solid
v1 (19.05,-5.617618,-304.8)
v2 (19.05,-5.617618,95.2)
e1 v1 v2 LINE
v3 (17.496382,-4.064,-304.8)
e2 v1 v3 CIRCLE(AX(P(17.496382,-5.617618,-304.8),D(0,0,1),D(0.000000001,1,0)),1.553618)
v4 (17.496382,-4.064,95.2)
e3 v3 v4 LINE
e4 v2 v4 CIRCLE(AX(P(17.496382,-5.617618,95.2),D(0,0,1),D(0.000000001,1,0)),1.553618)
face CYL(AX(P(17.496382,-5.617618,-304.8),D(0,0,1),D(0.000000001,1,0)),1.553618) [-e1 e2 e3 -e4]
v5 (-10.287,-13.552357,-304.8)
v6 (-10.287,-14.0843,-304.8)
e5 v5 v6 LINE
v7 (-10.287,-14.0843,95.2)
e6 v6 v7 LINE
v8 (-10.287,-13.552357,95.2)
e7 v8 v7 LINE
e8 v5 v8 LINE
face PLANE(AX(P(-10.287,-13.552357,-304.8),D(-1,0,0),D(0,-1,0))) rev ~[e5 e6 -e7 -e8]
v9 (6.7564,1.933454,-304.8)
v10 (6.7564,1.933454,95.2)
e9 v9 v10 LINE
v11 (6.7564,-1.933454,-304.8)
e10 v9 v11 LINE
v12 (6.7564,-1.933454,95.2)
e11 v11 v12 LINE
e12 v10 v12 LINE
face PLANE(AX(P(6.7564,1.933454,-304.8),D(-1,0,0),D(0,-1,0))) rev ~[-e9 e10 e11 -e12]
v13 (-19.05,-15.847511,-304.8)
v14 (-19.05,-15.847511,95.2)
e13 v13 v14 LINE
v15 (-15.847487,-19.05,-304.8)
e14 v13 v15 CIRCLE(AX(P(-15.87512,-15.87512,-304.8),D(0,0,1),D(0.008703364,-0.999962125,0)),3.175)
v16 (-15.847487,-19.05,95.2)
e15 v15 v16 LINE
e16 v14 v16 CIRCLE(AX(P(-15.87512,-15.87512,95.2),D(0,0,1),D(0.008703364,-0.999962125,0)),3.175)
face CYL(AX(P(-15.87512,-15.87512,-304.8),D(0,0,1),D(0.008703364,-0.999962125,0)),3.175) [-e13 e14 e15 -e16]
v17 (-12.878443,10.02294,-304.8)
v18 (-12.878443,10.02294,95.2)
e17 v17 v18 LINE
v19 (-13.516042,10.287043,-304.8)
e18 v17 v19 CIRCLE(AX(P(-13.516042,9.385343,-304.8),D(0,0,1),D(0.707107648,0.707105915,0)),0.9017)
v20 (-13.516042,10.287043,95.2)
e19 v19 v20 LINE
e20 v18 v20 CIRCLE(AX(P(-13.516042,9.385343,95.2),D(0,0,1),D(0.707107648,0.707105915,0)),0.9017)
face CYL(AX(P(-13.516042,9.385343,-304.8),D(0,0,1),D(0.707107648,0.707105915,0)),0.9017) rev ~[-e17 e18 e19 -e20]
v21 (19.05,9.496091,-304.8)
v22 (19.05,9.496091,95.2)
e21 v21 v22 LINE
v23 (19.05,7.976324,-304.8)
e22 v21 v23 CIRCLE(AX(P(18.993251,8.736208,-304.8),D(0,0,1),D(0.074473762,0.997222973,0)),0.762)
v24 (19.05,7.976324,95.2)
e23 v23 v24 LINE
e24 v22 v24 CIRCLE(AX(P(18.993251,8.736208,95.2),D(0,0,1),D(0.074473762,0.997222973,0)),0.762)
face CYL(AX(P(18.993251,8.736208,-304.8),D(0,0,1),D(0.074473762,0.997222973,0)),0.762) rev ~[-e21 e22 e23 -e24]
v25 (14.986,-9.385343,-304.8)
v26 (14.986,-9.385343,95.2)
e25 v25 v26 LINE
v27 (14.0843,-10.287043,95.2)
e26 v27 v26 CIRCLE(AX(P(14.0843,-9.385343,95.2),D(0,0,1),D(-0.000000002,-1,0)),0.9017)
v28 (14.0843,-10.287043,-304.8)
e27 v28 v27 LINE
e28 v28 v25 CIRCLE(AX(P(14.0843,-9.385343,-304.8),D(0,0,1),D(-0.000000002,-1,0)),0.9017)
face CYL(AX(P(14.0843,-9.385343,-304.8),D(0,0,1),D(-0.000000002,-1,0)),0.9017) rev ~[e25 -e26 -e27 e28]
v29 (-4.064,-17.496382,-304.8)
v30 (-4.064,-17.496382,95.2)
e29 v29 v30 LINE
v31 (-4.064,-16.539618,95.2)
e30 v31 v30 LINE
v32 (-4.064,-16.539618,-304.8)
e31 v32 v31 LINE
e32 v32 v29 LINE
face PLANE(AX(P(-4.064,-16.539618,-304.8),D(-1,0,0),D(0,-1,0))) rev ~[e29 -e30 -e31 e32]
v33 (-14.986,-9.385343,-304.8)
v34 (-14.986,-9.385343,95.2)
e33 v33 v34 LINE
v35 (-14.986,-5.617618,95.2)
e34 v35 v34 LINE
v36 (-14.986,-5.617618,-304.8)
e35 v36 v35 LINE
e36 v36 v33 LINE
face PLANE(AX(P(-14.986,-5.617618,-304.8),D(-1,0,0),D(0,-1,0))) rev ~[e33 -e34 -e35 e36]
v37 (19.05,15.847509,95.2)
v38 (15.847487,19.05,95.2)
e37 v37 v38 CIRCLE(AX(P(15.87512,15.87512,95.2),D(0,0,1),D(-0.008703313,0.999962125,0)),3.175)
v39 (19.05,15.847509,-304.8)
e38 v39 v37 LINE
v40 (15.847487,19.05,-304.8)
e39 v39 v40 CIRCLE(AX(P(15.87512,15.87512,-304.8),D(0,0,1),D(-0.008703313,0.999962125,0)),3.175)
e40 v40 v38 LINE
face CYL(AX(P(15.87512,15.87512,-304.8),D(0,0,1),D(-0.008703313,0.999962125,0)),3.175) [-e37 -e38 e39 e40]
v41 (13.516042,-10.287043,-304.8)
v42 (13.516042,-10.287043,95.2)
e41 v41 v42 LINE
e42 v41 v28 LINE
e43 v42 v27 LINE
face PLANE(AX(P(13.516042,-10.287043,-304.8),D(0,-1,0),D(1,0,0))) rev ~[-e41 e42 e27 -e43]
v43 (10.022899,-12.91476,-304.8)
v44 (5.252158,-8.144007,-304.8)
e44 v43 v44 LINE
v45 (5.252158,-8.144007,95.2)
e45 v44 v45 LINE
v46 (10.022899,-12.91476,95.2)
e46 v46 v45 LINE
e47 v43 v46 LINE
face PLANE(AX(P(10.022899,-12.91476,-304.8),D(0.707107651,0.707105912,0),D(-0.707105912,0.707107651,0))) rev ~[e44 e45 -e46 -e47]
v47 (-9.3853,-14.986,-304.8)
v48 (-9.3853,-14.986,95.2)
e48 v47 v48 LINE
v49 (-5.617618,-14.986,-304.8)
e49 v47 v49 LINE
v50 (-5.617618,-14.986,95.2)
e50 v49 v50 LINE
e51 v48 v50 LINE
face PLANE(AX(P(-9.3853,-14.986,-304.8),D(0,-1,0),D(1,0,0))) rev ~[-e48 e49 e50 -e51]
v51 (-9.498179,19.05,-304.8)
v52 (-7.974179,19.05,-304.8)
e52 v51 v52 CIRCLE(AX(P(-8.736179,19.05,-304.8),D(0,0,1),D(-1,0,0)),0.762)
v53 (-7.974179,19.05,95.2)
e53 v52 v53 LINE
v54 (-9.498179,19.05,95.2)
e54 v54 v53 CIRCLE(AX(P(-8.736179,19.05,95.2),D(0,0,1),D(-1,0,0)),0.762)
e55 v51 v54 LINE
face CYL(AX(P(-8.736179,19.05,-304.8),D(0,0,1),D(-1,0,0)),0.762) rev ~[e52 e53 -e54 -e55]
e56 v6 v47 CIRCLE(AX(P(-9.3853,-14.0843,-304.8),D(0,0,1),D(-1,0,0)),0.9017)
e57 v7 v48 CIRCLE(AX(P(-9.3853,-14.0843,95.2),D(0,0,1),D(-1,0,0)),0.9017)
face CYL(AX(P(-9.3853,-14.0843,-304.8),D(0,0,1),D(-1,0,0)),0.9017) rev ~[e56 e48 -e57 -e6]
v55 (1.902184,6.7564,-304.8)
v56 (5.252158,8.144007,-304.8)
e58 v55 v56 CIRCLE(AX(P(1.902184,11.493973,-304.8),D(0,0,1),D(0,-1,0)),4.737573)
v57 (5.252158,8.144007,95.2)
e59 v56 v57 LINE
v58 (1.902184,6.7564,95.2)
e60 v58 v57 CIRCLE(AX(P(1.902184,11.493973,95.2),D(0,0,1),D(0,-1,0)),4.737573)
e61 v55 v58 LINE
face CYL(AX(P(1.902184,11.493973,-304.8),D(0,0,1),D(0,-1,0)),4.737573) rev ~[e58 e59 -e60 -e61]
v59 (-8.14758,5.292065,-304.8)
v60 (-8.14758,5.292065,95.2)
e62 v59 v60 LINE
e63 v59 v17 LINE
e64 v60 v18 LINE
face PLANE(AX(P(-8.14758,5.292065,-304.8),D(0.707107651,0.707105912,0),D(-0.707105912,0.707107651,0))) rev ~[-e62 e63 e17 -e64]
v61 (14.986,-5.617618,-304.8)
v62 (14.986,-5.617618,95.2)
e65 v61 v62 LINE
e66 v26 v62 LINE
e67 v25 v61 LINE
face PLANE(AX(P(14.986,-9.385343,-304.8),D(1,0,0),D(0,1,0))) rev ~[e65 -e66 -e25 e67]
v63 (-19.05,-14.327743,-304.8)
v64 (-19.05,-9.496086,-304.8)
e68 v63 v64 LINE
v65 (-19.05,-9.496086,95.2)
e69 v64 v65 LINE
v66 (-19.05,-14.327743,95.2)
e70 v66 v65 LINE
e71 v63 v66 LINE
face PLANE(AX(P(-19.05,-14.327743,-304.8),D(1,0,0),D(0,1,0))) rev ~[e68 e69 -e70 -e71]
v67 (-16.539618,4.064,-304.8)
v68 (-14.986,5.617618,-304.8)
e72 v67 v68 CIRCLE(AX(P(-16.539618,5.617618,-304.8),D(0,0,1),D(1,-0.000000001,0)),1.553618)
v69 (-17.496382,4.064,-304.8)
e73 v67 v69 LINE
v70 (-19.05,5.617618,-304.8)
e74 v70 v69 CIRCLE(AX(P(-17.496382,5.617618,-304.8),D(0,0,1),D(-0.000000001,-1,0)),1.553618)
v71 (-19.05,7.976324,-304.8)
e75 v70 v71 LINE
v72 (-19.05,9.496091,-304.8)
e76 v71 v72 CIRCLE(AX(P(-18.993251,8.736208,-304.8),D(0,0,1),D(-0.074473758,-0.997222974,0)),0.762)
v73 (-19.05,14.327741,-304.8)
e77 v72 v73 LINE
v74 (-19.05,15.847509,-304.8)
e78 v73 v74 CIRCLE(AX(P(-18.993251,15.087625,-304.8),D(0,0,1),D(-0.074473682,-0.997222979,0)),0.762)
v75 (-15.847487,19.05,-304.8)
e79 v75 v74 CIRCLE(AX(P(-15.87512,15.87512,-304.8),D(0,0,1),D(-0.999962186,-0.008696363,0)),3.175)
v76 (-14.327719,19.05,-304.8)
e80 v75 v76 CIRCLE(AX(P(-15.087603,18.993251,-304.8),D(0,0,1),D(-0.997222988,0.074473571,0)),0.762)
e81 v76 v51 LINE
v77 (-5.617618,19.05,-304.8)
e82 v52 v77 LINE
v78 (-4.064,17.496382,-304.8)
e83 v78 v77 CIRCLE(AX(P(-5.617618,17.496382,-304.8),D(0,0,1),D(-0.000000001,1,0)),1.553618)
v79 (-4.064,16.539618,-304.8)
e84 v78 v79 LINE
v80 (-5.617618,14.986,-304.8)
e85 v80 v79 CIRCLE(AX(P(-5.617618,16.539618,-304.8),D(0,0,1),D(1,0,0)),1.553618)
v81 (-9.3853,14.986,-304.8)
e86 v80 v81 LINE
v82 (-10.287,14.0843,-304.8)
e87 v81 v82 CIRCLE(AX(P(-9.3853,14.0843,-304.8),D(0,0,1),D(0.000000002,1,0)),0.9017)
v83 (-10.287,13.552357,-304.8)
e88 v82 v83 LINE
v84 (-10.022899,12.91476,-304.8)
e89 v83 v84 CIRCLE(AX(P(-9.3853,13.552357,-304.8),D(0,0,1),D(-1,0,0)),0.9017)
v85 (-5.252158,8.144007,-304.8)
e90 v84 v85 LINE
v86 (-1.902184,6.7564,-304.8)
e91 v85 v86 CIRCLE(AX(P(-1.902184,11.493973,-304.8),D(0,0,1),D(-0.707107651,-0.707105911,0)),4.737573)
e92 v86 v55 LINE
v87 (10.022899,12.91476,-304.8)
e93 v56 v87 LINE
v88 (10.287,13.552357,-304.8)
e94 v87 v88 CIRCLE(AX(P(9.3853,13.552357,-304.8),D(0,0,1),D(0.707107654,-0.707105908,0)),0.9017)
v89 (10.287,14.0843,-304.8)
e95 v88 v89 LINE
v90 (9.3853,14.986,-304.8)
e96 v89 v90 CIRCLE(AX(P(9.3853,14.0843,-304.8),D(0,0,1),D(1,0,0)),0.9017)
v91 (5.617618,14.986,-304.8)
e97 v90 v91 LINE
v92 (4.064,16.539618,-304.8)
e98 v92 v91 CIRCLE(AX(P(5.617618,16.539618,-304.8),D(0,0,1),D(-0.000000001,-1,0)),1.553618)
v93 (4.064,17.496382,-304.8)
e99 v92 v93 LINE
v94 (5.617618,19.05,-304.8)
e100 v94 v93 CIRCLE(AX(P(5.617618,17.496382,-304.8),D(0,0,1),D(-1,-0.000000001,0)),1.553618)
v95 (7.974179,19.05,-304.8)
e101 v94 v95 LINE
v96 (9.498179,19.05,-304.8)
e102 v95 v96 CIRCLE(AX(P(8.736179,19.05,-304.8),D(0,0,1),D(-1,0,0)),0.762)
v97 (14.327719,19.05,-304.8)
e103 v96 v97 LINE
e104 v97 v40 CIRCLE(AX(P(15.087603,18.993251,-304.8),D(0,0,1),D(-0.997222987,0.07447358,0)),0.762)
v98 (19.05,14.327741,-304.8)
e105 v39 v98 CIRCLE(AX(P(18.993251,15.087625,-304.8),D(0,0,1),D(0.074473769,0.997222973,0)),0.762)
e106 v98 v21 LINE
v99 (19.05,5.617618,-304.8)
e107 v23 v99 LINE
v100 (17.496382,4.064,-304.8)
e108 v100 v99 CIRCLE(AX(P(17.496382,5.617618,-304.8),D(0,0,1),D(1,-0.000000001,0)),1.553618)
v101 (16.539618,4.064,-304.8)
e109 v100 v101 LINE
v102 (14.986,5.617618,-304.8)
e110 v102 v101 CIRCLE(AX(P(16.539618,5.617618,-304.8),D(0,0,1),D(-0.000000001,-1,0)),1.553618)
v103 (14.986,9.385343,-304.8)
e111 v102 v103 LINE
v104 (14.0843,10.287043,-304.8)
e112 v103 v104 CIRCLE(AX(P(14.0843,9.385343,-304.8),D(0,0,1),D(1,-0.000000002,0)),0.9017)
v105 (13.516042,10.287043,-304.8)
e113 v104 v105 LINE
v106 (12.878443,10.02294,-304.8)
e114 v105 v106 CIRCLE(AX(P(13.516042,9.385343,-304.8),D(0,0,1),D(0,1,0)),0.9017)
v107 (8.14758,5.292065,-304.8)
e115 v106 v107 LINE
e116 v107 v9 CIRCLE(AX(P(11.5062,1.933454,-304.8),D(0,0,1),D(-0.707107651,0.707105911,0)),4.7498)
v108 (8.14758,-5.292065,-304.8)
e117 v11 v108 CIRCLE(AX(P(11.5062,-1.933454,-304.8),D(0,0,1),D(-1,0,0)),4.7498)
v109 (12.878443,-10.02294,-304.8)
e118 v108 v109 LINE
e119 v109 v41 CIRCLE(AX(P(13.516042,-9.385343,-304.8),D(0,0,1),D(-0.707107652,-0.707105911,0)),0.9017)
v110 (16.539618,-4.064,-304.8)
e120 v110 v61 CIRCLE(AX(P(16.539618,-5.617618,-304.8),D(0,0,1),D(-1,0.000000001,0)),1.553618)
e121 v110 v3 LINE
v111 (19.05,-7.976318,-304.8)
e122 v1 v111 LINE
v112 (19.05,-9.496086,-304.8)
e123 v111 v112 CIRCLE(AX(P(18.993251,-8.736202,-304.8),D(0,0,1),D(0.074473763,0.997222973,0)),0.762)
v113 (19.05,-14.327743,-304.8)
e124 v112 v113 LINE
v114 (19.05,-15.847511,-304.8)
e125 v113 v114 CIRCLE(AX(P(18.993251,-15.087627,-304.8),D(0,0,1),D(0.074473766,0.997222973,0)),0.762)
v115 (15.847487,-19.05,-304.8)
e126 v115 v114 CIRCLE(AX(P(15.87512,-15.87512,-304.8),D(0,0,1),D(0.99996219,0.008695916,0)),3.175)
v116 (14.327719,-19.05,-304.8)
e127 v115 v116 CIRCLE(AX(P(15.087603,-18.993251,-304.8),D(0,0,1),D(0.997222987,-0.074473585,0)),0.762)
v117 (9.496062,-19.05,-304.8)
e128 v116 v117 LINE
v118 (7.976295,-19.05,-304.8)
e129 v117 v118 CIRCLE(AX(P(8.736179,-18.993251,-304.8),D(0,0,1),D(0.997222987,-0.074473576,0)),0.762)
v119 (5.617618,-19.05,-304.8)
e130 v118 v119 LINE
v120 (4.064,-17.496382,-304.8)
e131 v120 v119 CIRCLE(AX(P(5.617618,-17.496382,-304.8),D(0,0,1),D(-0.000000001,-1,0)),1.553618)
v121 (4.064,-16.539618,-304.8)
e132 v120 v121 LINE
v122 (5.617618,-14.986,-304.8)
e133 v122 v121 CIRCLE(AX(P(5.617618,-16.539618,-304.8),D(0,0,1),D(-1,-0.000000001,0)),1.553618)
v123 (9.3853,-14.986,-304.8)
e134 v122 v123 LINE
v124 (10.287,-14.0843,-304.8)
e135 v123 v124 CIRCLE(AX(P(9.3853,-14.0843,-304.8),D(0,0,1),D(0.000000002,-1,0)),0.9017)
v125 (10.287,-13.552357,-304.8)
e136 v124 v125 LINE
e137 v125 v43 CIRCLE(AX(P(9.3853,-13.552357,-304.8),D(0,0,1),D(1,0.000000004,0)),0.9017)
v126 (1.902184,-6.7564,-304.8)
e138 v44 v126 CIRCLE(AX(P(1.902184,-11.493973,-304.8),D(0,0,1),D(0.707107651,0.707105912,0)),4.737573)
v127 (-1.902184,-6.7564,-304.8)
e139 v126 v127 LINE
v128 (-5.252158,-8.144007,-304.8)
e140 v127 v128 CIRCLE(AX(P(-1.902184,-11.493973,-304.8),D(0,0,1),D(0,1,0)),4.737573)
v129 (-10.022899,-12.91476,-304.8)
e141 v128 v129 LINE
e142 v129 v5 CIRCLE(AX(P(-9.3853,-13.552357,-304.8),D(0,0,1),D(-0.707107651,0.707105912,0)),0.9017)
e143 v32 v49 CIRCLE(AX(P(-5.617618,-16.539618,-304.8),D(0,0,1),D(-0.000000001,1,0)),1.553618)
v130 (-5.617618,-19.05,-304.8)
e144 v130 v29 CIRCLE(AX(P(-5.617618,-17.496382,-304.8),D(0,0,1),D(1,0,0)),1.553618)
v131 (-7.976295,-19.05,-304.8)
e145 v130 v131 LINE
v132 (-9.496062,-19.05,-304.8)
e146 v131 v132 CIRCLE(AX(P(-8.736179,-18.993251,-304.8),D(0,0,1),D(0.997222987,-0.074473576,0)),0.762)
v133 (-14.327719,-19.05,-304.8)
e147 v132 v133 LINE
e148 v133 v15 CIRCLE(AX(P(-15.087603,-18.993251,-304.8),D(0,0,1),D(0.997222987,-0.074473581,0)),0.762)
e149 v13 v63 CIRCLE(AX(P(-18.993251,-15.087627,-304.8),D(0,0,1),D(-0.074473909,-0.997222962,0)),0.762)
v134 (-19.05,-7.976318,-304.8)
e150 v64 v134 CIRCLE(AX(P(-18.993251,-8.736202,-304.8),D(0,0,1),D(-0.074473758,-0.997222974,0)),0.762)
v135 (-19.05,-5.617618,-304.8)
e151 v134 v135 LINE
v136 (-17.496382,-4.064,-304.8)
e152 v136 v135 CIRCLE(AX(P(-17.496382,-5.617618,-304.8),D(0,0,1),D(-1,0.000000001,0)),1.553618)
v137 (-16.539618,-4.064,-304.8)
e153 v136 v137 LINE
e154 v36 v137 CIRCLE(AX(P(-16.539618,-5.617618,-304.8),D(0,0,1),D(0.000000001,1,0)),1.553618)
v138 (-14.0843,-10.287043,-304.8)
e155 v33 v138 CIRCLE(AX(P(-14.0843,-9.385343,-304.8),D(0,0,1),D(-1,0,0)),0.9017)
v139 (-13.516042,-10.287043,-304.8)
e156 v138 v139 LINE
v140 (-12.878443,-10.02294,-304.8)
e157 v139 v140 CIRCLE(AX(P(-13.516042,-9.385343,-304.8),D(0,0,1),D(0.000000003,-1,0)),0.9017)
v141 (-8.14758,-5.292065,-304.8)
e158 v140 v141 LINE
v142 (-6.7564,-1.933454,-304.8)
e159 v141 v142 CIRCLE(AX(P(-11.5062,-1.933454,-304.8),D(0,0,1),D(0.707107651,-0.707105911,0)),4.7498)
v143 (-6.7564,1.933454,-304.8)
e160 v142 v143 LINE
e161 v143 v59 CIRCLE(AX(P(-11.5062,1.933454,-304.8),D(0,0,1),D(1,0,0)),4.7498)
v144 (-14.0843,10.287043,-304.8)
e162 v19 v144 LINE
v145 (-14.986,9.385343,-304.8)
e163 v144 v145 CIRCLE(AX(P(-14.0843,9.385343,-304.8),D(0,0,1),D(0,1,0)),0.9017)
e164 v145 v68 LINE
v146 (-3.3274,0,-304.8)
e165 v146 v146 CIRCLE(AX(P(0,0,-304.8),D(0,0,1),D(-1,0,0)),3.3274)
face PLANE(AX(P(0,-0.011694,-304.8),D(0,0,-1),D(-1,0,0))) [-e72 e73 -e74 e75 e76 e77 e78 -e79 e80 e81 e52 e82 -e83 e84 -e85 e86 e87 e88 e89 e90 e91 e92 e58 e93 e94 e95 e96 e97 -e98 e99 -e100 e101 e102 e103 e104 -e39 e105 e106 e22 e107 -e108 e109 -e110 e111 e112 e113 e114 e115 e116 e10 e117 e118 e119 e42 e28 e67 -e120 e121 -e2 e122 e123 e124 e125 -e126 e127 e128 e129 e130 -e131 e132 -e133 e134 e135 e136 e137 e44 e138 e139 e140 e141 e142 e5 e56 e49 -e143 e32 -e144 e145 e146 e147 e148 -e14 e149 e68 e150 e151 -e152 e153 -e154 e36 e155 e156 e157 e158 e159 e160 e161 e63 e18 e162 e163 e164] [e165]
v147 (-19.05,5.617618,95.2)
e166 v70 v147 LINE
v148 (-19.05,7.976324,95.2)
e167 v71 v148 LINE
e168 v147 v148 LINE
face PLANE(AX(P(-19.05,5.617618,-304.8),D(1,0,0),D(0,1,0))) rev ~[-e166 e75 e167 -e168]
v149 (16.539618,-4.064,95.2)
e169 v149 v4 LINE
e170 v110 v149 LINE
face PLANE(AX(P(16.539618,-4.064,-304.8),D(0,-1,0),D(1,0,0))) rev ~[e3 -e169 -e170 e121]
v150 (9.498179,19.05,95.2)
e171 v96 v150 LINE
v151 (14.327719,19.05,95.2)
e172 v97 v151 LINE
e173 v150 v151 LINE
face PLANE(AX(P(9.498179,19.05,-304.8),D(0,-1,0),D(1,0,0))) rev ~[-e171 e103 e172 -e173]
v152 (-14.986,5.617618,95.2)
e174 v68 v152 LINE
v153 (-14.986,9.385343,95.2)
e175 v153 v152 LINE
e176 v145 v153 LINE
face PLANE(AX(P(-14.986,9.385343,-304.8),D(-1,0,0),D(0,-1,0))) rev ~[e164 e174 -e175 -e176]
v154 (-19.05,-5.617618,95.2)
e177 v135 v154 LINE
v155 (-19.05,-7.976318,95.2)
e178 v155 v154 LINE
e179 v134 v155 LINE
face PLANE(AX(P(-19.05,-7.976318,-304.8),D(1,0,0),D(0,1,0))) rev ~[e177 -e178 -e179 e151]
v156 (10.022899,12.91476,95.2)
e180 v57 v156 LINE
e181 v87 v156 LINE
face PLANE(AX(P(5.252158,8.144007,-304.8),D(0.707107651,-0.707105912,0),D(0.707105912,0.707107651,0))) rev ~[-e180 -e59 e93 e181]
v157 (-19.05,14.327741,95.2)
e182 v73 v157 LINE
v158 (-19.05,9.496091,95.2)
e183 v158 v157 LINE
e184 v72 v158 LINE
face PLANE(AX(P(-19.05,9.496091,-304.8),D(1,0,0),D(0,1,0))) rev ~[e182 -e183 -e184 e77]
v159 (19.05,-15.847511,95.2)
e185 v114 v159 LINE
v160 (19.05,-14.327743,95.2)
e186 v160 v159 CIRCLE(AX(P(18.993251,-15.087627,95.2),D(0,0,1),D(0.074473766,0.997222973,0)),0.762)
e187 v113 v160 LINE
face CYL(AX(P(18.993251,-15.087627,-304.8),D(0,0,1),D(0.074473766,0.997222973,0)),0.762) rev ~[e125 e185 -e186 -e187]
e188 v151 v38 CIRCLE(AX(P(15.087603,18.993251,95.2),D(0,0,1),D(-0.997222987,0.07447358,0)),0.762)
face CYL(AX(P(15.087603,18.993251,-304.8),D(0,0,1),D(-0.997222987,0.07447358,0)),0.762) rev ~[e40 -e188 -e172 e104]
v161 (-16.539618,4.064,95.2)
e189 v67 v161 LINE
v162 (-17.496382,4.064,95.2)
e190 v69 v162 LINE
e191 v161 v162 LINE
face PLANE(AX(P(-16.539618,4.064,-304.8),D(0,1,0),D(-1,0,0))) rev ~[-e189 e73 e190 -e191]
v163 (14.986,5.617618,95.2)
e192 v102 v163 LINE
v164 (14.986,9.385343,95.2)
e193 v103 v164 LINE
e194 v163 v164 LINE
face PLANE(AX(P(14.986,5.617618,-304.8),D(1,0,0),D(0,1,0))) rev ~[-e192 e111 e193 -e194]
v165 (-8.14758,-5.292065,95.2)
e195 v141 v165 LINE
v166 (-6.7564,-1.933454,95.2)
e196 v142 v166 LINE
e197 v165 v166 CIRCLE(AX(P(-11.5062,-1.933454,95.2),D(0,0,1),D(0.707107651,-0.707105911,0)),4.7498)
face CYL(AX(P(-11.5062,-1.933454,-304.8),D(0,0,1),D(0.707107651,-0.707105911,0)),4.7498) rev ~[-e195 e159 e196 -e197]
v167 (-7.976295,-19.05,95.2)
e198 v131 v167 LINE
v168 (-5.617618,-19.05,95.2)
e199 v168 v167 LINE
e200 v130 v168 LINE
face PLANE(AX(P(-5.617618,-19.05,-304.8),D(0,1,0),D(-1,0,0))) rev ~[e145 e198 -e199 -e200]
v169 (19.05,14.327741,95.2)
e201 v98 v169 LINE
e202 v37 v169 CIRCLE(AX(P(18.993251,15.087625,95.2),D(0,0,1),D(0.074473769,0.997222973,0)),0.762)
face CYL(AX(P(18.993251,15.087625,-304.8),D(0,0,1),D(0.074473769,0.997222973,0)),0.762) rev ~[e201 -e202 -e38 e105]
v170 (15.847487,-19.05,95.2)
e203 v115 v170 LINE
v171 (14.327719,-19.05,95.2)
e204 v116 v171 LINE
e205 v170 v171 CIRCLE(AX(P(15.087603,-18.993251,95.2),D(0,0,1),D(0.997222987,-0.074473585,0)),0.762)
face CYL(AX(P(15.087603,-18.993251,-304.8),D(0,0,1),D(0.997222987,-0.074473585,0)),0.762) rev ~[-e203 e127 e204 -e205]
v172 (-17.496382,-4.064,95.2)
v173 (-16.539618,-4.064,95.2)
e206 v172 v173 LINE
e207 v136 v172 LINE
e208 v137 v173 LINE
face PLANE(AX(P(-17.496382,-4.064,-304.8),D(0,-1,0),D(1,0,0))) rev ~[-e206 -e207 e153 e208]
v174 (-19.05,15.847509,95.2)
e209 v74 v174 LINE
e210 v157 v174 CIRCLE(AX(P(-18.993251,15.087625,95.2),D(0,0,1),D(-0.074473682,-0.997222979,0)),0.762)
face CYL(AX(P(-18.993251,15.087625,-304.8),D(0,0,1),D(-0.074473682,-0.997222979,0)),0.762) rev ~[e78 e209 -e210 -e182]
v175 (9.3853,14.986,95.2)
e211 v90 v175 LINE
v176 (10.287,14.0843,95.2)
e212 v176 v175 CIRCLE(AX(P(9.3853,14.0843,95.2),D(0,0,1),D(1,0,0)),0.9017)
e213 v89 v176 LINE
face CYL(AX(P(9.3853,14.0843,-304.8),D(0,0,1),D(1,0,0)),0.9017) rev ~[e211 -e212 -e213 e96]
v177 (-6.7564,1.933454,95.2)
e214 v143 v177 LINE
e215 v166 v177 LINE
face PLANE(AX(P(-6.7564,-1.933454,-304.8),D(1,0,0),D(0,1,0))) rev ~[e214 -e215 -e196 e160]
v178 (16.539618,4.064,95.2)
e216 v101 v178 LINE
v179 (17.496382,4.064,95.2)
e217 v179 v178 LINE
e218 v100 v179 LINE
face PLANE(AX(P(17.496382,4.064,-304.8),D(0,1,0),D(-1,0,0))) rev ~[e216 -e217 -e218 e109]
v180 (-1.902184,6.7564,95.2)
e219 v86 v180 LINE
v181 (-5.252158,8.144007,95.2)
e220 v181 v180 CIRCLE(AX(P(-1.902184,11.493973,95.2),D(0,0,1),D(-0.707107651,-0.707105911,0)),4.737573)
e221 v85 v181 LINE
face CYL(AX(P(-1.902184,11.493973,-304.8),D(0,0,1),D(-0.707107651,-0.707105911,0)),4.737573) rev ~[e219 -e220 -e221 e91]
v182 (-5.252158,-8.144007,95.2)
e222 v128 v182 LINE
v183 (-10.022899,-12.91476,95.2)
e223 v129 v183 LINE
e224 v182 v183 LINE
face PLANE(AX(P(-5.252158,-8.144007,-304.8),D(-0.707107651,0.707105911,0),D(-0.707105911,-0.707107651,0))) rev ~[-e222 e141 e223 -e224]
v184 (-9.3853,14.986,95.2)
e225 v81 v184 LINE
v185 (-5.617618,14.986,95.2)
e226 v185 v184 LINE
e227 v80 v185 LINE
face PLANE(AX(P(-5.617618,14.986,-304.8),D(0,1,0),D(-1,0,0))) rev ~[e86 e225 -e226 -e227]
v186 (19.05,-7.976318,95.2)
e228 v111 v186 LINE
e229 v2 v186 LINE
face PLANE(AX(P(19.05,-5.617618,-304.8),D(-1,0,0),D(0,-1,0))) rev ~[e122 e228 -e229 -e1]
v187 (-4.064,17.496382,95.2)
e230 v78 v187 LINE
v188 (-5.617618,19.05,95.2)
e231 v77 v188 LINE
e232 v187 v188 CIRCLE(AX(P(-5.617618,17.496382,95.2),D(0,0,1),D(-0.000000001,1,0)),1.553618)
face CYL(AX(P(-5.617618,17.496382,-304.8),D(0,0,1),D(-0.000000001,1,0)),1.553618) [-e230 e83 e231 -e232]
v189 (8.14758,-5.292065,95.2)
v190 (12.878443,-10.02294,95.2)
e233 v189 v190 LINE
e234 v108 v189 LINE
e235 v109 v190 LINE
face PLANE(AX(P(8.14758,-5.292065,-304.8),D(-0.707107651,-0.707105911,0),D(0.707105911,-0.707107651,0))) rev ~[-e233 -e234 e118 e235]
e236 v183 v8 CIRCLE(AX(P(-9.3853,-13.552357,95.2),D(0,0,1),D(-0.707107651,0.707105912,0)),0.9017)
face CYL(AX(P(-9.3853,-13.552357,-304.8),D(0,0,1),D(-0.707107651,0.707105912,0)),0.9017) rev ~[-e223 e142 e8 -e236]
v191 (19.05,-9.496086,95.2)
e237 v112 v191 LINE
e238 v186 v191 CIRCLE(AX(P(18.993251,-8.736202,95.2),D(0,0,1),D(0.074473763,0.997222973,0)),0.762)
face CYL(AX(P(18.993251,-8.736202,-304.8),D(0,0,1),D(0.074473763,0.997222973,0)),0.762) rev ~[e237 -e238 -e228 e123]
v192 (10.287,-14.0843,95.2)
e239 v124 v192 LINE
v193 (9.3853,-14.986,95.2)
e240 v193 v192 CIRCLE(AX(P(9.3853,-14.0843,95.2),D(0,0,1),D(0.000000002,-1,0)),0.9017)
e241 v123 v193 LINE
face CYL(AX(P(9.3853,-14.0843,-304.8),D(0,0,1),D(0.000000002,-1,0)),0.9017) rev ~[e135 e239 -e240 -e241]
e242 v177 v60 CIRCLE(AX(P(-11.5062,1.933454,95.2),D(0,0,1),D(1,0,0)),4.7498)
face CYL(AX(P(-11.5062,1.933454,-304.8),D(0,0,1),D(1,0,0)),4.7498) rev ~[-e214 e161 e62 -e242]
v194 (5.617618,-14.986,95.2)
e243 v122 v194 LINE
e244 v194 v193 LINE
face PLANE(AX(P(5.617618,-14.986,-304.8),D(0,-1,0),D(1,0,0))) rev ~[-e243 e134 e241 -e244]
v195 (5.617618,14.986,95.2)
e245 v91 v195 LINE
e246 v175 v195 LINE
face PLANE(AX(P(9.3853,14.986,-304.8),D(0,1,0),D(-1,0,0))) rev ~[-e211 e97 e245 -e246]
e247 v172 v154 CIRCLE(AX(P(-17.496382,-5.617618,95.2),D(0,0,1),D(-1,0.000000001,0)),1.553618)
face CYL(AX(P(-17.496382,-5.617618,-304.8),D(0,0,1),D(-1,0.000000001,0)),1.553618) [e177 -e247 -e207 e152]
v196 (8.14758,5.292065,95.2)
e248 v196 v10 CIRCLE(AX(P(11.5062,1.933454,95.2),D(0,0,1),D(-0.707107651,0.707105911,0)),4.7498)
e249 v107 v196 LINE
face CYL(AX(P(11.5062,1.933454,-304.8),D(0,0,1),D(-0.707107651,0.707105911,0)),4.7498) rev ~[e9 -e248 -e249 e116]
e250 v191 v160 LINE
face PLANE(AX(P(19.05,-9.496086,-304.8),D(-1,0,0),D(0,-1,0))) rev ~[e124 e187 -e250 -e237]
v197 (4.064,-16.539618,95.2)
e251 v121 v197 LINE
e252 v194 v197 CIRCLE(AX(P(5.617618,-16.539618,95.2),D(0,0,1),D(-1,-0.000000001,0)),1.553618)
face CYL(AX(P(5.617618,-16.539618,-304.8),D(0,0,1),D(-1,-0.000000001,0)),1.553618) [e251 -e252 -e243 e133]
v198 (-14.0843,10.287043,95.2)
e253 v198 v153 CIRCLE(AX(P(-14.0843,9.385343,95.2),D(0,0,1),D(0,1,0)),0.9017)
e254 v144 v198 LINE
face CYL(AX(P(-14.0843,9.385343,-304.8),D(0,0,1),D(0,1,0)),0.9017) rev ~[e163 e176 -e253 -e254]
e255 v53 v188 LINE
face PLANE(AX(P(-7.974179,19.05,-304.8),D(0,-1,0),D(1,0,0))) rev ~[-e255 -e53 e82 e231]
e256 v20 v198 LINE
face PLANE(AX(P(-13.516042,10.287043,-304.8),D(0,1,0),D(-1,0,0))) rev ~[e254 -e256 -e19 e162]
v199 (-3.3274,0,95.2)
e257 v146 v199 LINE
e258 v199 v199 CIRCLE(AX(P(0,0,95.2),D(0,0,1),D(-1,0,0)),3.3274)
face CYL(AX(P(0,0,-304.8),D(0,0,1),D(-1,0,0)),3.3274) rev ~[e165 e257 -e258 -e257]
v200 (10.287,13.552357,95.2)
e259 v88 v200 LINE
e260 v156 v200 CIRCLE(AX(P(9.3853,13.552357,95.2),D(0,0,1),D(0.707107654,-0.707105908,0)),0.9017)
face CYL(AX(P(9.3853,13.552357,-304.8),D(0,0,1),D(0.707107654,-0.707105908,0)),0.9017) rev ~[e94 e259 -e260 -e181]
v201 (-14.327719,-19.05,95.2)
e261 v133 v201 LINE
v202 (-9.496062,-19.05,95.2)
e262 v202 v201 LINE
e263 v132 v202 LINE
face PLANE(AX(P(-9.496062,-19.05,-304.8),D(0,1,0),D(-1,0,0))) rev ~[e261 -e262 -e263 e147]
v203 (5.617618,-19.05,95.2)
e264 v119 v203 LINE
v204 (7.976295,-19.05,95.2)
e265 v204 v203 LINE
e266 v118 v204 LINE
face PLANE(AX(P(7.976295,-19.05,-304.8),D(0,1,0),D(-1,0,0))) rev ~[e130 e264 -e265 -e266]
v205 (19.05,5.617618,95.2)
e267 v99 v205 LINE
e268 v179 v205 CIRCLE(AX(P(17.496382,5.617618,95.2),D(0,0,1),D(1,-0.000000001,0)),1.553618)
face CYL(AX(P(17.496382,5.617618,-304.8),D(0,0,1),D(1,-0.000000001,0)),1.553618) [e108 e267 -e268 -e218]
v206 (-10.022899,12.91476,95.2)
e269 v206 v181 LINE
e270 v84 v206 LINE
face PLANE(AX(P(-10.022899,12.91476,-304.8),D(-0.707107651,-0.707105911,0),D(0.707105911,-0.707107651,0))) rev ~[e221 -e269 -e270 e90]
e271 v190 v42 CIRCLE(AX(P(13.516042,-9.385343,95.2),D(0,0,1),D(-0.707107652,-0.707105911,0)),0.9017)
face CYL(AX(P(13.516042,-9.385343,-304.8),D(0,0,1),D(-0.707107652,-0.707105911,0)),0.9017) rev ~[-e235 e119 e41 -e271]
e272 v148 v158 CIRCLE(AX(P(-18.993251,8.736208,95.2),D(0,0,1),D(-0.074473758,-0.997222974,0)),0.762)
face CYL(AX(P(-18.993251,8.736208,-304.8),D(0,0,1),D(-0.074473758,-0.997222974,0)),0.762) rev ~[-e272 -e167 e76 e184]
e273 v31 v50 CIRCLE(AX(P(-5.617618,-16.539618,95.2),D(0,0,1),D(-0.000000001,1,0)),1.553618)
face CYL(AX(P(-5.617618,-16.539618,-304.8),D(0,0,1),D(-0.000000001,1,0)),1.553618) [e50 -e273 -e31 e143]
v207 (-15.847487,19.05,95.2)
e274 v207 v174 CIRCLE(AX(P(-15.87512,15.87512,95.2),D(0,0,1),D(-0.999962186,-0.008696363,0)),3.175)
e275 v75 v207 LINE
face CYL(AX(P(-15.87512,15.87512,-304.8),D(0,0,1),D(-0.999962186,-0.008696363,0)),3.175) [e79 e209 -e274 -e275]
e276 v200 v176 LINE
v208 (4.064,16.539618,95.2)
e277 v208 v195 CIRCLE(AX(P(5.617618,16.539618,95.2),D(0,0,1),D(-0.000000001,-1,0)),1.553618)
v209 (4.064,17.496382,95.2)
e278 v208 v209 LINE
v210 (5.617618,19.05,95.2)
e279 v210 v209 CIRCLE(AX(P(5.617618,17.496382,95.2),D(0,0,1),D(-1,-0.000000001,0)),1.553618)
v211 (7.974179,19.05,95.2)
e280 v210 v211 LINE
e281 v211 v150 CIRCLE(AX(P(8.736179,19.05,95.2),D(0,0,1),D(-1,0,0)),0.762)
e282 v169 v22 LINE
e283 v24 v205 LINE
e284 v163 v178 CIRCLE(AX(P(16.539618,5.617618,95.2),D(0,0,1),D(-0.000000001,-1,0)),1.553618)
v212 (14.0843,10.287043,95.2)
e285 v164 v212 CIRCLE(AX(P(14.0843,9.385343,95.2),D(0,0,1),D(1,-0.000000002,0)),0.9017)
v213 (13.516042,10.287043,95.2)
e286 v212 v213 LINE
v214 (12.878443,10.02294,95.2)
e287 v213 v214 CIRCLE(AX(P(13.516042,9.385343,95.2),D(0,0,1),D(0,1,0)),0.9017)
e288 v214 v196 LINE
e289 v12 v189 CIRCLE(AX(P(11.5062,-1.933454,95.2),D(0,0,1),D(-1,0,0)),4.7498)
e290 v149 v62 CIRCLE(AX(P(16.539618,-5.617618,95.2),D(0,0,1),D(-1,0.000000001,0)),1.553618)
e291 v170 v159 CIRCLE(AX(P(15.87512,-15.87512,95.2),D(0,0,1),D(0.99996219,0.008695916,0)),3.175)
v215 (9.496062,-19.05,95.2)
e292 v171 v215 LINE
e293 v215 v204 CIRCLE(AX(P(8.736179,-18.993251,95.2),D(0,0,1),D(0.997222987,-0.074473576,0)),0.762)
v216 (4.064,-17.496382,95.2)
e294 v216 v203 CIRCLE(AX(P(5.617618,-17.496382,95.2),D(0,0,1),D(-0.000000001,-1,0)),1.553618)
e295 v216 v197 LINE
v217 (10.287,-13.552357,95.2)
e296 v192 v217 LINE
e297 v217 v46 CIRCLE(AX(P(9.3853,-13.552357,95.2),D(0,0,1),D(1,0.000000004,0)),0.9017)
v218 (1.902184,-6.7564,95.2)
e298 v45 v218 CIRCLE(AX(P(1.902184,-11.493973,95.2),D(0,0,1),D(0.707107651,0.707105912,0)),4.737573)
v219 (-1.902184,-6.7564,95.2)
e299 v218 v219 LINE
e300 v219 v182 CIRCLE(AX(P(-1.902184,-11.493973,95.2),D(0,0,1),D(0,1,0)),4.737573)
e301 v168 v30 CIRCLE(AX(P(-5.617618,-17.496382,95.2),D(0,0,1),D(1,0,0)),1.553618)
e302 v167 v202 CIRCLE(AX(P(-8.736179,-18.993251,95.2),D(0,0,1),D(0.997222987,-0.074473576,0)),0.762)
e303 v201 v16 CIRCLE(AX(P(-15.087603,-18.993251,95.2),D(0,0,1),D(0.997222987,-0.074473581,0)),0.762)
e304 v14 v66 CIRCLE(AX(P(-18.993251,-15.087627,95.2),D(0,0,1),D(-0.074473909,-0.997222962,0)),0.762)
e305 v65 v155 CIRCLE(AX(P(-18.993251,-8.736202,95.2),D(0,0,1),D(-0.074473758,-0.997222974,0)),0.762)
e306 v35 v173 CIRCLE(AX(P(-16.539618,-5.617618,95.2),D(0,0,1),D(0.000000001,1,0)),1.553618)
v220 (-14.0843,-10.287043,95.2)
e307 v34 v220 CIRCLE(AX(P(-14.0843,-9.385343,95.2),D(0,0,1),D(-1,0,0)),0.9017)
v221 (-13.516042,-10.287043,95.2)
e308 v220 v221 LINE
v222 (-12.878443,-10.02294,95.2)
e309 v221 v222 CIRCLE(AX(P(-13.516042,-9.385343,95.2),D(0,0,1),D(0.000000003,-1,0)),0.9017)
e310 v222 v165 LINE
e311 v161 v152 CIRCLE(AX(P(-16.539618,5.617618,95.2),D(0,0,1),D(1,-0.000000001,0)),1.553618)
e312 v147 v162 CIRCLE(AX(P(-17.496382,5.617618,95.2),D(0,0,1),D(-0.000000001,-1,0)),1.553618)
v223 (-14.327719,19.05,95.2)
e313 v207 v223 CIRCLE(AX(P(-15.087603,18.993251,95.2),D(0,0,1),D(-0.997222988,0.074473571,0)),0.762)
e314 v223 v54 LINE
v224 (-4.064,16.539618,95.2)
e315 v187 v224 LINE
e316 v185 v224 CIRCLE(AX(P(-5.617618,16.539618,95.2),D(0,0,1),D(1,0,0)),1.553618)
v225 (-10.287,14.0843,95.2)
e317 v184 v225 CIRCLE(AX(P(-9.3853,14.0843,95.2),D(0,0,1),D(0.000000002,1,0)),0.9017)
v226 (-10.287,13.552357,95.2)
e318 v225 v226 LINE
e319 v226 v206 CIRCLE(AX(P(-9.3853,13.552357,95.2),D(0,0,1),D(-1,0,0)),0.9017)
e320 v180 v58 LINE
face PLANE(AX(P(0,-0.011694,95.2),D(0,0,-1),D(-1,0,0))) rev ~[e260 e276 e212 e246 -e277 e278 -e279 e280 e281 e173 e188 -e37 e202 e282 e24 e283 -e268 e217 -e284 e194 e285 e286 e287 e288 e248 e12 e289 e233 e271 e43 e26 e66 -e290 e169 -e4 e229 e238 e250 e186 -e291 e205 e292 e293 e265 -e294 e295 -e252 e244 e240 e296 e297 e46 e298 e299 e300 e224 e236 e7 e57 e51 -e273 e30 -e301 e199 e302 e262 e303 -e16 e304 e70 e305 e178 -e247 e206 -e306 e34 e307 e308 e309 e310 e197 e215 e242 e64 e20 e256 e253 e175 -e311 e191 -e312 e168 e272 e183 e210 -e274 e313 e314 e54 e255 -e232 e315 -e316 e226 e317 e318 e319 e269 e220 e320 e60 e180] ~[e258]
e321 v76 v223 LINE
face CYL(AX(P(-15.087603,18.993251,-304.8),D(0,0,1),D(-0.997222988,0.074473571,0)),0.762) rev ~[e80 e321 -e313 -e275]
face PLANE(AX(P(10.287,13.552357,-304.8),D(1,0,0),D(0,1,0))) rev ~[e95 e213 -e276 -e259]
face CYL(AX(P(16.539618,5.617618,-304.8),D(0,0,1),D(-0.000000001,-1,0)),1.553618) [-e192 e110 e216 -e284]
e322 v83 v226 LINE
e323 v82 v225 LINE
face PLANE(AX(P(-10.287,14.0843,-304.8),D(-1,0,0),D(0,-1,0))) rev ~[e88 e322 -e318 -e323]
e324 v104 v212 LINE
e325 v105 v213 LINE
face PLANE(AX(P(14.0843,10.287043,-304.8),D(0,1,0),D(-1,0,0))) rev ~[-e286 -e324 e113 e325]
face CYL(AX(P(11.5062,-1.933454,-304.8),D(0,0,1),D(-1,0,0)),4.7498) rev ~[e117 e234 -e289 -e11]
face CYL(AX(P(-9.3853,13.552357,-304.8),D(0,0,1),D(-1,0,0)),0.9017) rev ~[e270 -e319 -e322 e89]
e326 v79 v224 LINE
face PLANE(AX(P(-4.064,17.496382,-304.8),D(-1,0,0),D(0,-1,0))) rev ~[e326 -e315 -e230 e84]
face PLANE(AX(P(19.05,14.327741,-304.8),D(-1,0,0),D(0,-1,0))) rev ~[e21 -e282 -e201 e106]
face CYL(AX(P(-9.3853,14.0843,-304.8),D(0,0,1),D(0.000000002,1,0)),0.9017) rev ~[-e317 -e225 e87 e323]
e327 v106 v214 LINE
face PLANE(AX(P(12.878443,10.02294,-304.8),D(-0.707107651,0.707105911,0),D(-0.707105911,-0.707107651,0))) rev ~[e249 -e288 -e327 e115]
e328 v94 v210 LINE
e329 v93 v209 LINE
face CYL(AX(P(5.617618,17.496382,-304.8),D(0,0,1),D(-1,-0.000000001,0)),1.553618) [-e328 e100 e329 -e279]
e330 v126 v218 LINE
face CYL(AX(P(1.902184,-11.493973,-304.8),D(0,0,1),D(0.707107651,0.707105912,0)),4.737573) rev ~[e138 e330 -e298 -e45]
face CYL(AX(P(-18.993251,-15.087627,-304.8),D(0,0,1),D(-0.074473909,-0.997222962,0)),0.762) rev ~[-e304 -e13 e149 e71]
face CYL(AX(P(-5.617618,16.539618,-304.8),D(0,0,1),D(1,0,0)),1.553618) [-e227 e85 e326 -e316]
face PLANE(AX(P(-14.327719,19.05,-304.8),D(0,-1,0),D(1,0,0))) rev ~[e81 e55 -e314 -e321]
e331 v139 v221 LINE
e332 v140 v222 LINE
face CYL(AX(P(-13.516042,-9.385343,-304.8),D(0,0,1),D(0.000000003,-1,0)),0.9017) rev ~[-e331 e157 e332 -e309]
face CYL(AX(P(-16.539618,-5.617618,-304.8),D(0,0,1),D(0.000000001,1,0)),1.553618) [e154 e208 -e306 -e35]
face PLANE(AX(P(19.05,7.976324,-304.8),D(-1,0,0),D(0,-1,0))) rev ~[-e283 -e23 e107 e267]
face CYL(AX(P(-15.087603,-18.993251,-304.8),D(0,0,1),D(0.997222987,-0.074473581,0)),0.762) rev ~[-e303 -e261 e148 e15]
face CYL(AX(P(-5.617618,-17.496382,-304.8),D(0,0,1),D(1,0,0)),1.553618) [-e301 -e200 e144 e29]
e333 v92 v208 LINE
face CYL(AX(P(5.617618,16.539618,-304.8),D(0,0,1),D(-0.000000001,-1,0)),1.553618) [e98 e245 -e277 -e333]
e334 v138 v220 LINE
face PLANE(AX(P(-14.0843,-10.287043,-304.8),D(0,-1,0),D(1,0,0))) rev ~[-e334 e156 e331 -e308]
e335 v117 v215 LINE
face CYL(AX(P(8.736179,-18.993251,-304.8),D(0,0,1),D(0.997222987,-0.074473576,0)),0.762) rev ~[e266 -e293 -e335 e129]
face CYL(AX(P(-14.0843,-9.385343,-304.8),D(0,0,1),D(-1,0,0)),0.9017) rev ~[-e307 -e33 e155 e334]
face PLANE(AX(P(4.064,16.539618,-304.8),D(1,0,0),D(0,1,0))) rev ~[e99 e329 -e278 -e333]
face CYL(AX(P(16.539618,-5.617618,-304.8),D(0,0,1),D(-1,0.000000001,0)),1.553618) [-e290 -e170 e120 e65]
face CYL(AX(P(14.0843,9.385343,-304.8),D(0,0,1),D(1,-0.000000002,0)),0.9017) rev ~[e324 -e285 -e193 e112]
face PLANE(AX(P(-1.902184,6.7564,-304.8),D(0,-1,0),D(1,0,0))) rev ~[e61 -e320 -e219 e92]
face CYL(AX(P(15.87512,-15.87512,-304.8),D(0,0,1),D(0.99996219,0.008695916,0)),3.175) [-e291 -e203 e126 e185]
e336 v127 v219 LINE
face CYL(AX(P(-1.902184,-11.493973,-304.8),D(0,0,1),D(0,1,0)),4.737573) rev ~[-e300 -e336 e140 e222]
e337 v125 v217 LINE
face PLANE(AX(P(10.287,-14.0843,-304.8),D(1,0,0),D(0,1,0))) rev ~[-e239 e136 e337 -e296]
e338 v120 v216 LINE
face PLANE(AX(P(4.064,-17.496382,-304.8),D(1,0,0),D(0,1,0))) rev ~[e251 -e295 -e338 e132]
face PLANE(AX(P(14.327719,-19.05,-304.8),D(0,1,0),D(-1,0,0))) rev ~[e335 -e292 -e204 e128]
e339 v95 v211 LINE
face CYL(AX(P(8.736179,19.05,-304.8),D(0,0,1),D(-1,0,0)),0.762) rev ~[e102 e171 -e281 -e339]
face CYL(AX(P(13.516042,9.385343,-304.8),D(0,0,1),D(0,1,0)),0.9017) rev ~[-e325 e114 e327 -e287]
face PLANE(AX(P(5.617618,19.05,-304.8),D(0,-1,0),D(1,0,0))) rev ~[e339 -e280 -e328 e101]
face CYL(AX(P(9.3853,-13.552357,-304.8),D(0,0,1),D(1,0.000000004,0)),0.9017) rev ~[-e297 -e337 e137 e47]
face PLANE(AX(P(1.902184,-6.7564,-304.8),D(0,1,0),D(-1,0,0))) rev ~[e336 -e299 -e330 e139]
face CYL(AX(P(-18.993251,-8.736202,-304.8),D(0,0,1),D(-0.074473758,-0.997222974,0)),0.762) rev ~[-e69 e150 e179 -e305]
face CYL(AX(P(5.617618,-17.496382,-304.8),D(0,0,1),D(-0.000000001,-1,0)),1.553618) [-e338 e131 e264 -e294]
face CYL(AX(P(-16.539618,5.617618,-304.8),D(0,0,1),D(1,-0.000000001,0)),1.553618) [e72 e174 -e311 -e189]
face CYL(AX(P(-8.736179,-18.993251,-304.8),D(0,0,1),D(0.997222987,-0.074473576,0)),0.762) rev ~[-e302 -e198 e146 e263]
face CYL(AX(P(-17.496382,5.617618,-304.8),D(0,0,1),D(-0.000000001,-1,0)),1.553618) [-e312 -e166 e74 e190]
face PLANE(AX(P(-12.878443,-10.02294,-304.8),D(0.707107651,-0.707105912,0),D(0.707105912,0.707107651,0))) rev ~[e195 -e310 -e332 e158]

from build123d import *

# Parameters (mm, degrees)
SKETCH1_R = 3.3274


with BuildPart() as part:
    # Sweep1: sweep along a path in Sketch2
    with BuildLine(Plane(origin=(0, 0, 0), x_dir=(1, 0, 0), z_dir=(0, 1, 0))) as sweep1_path:
        Line((0, 304.8), (0, -95.2))
    # Sketch1 → Sweep1 (sweep)
    with BuildSketch(Plane(origin=(0, 0, -304.8), x_dir=(-1, 0, 0), z_dir=(0, 0, -1))):
        with BuildLine():
            Line((14.327719201, 19.050000003), (9.498178698, 19.050000003))
            ThreePointArc((9.498178698, 19.050000003), (8.736178698, 18.288000003), (7.974178698, 19.050000003))
            Line((7.974178698, 19.050000003), (5.61761756, 19.050000003))
            ThreePointArc((5.61761756, 19.050000003), (4.519044055, 18.594955959), (4.06400001, 17.496382454))
            Line((4.06400001, 17.496382454), (4.06400001, 16.539617563))
            ThreePointArc((4.06400001, 16.539617563), (4.519044055, 15.441044058), (5.61761756, 14.986000013))
            Line((5.61761756, 14.986000013), (9.38530001, 14.986000013))
            ThreePointArc((9.38530001, 14.986000013), (10.022898195, 14.721898198), (10.28700001, 14.084300013))
            Line((10.28700001, 14.084300013), (10.28700001, 13.552357144))
            ThreePointArc((10.28700001, 13.552357144), (10.218362397, 13.207292006), (10.022898979, 12.914759744))
            Line((10.022898979, 12.914759744), (5.252158118, 8.144007146))
            ThreePointArc((5.252158118, 8.144007146), (3.715177385, 7.117027402), (1.902183988, 6.756400013))
            Line((1.902183988, 6.756400013), (-1.902183965, 6.756400013))
            ThreePointArc((-1.902183965, 6.756400013), (-3.715177361, 7.117027401), (-5.252158094, 8.144007145))
            Line((-5.252158094, 8.144007145), (-10.022898959, 12.914759744))
            ThreePointArc((-10.022898959, 12.914759744), (-10.218362376, 13.207292006), (-10.28699999, 13.552357144))
            Line((-10.28699999, 13.552357144), (-10.28699999, 14.084300013))
            ThreePointArc((-10.28699999, 14.084300013), (-10.022898174, 14.721898198), (-9.38529999, 14.986000013))
            Line((-9.38529999, 14.986000013), (-5.617617539, 14.986000013))
            ThreePointArc((-5.617617539, 14.986000013), (-4.519044035, 15.441044058), (-4.06399999, 16.539617563))
            Line((-4.06399999, 16.539617563), (-4.06399999, 17.496382454))
            ThreePointArc((-4.06399999, 17.496382454), (-4.519044035, 18.594955959), (-5.617617539, 19.050000003))
            Line((-5.617617539, 19.050000003), (-7.974178709, 19.050000003))
            ThreePointArc((-7.974178709, 19.050000003), (-8.736178709, 18.288000003), (-9.498178709, 19.050000003))
            Line((-9.498178709, 19.050000003), (-14.327719212, 19.050000003))
            ThreePointArc((-14.327719212, 19.050000003), (-15.087603125, 18.231251135), (-15.847487045, 19.049999996))
            ThreePointArc((-15.847487045, 19.049999996), (-18.120176306, 18.120192065), (-19.050000001, 15.847509253))
            ThreePointArc((-19.050000001, 15.847509253), (-18.231251012, 15.087625373), (-19.049999993, 14.327741484))
            Line((-19.049999993, 14.327741484), (-19.049999993, 9.49609147))
            ThreePointArc((-19.049999993, 9.49609147), (-18.231250986, 8.736207564), (-19.049999993, 7.976323658))
            Line((-19.049999993, 7.976323658), (-19.049999993, 5.617617549))
            ThreePointArc((-19.049999993, 5.617617549), (-18.594955948, 4.519044045), (-17.496382444, 4.064))
            Line((-17.496382444, 4.064), (-16.539617542, 4.064))
            ThreePointArc((-16.539617542, 4.064), (-15.441044038, 4.519044045), (-14.985999993, 5.617617549))
            Line((-14.985999993, 5.617617549), (-14.985999993, 9.385342517))
            ThreePointArc((-14.985999993, 9.385342517), (-14.721898178, 10.022940702), (-14.084299993, 10.287042517))
            Line((-14.084299993, 10.287042517), (-13.516042079, 10.287042517))
            ThreePointArc((-13.516042079, 10.287042517), (-13.170975915, 10.218404479), (-12.87844311, 10.022939917))
            Line((-12.87844311, 10.022939917), (-8.147580073, 5.292065242))
            ThreePointArc((-8.147580073, 5.292065242), (-7.117955872, 3.751120652), (-6.756399993, 1.933453584))
            Line((-6.756399993, 1.933453584), (-6.756399993, -1.933453584))
            ThreePointArc((-6.756399993, -1.933453584), (-7.117955872, -3.751120652), (-8.147580073, -5.292065242))
            Line((-8.147580073, -5.292065242), (-12.87844311, -10.022939917))
            ThreePointArc((-12.87844311, -10.022939917), (-13.170975915, -10.218404479), (-13.516042079, -10.287042517))
            Line((-13.516042079, -10.287042517), (-14.084299993, -10.287042517))
            ThreePointArc((-14.084299993, -10.287042517), (-14.721898178, -10.022940702), (-14.985999993, -9.385342517))
            Line((-14.985999993, -9.385342517), (-14.985999993, -5.617617549))
            ThreePointArc((-14.985999993, -5.617617549), (-15.441044038, -4.519044045), (-16.539617542, -4.064))
            Line((-16.539617542, -4.064), (-17.496382444, -4.064))
            ThreePointArc((-17.496382444, -4.064), (-18.594955948, -4.519044045), (-19.049999993, -5.617617549))
            Line((-19.049999993, -5.617617549), (-19.049999993, -7.97631849))
            ThreePointArc((-19.049999993, -7.97631849), (-18.231250986, -8.736202396), (-19.049999993, -9.496086301))
            Line((-19.049999993, -9.496086301), (-19.049999993, -14.327742909))
            ThreePointArc((-19.049999993, -14.327742909), (-18.231250983, -15.08762681), (-19.049999984, -15.847510721))
            ThreePointArc((-19.049999984, -15.847510721), (-18.120175688, -18.120192657), (-15.847486815, -19.049999997))
            ThreePointArc((-15.847486815, -19.049999997), (-15.087602925, -18.231251148), (-14.327719025, -19.049999987))
            Line((-14.327719025, -19.049999987), (-9.496062438, -19.049999987))
            ThreePointArc((-9.496062438, -19.049999987), (-8.736178522, -18.231251122), (-7.976294605, -19.049999987))
            Line((-7.976294605, -19.049999987), (-5.617617539, -19.049999987))
            ThreePointArc((-5.617617539, -19.049999987), (-4.519044035, -18.594955942), (-4.06399999, -17.496382437))
            Line((-4.06399999, -17.496382437), (-4.06399999, -16.539617536))
            ThreePointArc((-4.06399999, -16.539617536), (-4.519044035, -15.441044031), (-5.617617539, -14.985999987))
            Line((-5.617617539, -14.985999987), (-9.38529999, -14.985999987))
            ThreePointArc((-9.38529999, -14.985999987), (-10.022898174, -14.721898171), (-10.28699999, -14.084299987))
            Line((-10.28699999, -14.084299987), (-10.28699999, -13.552357118))
            ThreePointArc((-10.28699999, -13.552357118), (-10.218362376, -13.207291979), (-10.022898959, -12.914759717))
            Line((-10.022898959, -12.914759717), (-5.252158094, -8.144007118))
            ThreePointArc((-5.252158094, -8.144007118), (-3.715177361, -7.117027375), (-1.902183965, -6.756399987))
            Line((-1.902183965, -6.756399987), (1.902183988, -6.756399987))
            ThreePointArc((1.902183988, -6.756399987), (3.715177385, -7.117027375), (5.252158118, -8.144007119))
            Line((5.252158118, -8.144007119), (10.022898979, -12.914759717))
            ThreePointArc((10.022898979, -12.914759717), (10.218362397, -13.207291979), (10.28700001, -13.552357118))
            Line((10.28700001, -13.552357118), (10.28700001, -14.084299987))
            ThreePointArc((10.28700001, -14.084299987), (10.022898195, -14.721898171), (9.38530001, -14.985999987))
            Line((9.38530001, -14.985999987), (5.61761756, -14.985999987))
            ThreePointArc((5.61761756, -14.985999987), (4.519044055, -15.441044031), (4.06400001, -16.539617536))
            Line((4.06400001, -16.539617536), (4.06400001, -17.496382437))
            ThreePointArc((4.06400001, -17.496382437), (4.519044055, -18.594955942), (5.61761756, -19.049999987))
            Line((5.61761756, -19.049999987), (7.976294626, -19.049999987))
            ThreePointArc((7.976294626, -19.049999987), (8.736178543, -18.231251122), (9.496062459, -19.049999987))
            Line((9.496062459, -19.049999987), (14.327719046, -19.049999987))
            ThreePointArc((14.327719046, -19.049999987), (15.087602959, -18.231251119), (15.847486878, -19.04999998))
            ThreePointArc((15.847486878, -19.04999998), (18.12017574, -18.120192611), (19.050000007, -15.847510662))
            ThreePointArc((19.050000007, -15.847510662), (18.231250911, -15.087626785), (19.050000007, -14.327742909))
            Line((19.050000007, -14.327742909), (19.050000007, -9.496086301))
            ThreePointArc((19.050000007, -9.496086301), (18.231251003, -8.736202395), (19.050000007, -7.976318489))
            Line((19.050000007, -7.976318489), (19.050000007, -5.617617549))
            ThreePointArc((19.050000007, -5.617617549), (18.594955962, -4.519044045), (17.496382458, -4.064))
            Line((17.496382458, -4.064), (16.539617556, -4.064))
            ThreePointArc((16.539617556, -4.064), (15.441044052, -4.519044045), (14.986000007, -5.617617549))
            Line((14.986000007, -5.617617549), (14.986000007, -9.385342517))
            ThreePointArc((14.986000007, -9.385342517), (14.721898191, -10.022940702), (14.084300007, -10.287042517))
            Line((14.084300007, -10.287042517), (13.516042095, -10.287042517))
            ThreePointArc((13.516042095, -10.287042517), (13.170975932, -10.218404479), (12.878443126, -10.022939918))
            Line((12.878443126, -10.022939918), (8.147580087, -5.292065243))
            ThreePointArc((8.147580087, -5.292065243), (7.117955886, -3.751120653), (6.756400007, -1.933453584))
            Line((6.756400007, -1.933453584), (6.756400007, 1.933453584))
            ThreePointArc((6.756400007, 1.933453584), (7.117955886, 3.751120653), (8.147580087, 5.292065243))
            Line((8.147580087, 5.292065243), (12.878443126, 10.022939918))
            ThreePointArc((12.878443126, 10.022939918), (13.170975932, 10.218404479), (13.516042095, 10.287042517))
            Line((13.516042095, 10.287042517), (14.084300007, 10.287042517))
            ThreePointArc((14.084300007, 10.287042517), (14.721898191, 10.022940702), (14.986000007, 9.385342517))
            Line((14.986000007, 9.385342517), (14.986000007, 5.617617549))
            ThreePointArc((14.986000007, 5.617617549), (15.441044052, 4.519044045), (16.539617556, 4.064))
            Line((16.539617556, 4.064), (17.496382458, 4.064))
            ThreePointArc((17.496382458, 4.064), (18.594955962, 4.519044045), (19.050000007, 5.617617549))
            Line((19.050000007, 5.617617549), (19.050000007, 7.976323659))
            ThreePointArc((19.050000007, 7.976323659), (18.231251003, 8.736207565), (19.050000007, 9.496091471))
            Line((19.050000007, 9.496091471), (19.050000007, 14.327741484))
            ThreePointArc((19.050000007, 14.327741484), (18.231251061, 15.087625385), (19.049999988, 15.847509306))
            ThreePointArc((19.049999988, 15.847509306), (18.120176278, 18.120192088), (15.847487034, 19.050000003))
            ThreePointArc((15.847487034, 19.050000003), (15.087603117, 18.231251142), (14.327719201, 19.050000003))
        make_face()
        Circle(SKETCH1_R, mode=Mode.SUBTRACT)
    sweep(path=sweep1_path.line)


solid = part.part
